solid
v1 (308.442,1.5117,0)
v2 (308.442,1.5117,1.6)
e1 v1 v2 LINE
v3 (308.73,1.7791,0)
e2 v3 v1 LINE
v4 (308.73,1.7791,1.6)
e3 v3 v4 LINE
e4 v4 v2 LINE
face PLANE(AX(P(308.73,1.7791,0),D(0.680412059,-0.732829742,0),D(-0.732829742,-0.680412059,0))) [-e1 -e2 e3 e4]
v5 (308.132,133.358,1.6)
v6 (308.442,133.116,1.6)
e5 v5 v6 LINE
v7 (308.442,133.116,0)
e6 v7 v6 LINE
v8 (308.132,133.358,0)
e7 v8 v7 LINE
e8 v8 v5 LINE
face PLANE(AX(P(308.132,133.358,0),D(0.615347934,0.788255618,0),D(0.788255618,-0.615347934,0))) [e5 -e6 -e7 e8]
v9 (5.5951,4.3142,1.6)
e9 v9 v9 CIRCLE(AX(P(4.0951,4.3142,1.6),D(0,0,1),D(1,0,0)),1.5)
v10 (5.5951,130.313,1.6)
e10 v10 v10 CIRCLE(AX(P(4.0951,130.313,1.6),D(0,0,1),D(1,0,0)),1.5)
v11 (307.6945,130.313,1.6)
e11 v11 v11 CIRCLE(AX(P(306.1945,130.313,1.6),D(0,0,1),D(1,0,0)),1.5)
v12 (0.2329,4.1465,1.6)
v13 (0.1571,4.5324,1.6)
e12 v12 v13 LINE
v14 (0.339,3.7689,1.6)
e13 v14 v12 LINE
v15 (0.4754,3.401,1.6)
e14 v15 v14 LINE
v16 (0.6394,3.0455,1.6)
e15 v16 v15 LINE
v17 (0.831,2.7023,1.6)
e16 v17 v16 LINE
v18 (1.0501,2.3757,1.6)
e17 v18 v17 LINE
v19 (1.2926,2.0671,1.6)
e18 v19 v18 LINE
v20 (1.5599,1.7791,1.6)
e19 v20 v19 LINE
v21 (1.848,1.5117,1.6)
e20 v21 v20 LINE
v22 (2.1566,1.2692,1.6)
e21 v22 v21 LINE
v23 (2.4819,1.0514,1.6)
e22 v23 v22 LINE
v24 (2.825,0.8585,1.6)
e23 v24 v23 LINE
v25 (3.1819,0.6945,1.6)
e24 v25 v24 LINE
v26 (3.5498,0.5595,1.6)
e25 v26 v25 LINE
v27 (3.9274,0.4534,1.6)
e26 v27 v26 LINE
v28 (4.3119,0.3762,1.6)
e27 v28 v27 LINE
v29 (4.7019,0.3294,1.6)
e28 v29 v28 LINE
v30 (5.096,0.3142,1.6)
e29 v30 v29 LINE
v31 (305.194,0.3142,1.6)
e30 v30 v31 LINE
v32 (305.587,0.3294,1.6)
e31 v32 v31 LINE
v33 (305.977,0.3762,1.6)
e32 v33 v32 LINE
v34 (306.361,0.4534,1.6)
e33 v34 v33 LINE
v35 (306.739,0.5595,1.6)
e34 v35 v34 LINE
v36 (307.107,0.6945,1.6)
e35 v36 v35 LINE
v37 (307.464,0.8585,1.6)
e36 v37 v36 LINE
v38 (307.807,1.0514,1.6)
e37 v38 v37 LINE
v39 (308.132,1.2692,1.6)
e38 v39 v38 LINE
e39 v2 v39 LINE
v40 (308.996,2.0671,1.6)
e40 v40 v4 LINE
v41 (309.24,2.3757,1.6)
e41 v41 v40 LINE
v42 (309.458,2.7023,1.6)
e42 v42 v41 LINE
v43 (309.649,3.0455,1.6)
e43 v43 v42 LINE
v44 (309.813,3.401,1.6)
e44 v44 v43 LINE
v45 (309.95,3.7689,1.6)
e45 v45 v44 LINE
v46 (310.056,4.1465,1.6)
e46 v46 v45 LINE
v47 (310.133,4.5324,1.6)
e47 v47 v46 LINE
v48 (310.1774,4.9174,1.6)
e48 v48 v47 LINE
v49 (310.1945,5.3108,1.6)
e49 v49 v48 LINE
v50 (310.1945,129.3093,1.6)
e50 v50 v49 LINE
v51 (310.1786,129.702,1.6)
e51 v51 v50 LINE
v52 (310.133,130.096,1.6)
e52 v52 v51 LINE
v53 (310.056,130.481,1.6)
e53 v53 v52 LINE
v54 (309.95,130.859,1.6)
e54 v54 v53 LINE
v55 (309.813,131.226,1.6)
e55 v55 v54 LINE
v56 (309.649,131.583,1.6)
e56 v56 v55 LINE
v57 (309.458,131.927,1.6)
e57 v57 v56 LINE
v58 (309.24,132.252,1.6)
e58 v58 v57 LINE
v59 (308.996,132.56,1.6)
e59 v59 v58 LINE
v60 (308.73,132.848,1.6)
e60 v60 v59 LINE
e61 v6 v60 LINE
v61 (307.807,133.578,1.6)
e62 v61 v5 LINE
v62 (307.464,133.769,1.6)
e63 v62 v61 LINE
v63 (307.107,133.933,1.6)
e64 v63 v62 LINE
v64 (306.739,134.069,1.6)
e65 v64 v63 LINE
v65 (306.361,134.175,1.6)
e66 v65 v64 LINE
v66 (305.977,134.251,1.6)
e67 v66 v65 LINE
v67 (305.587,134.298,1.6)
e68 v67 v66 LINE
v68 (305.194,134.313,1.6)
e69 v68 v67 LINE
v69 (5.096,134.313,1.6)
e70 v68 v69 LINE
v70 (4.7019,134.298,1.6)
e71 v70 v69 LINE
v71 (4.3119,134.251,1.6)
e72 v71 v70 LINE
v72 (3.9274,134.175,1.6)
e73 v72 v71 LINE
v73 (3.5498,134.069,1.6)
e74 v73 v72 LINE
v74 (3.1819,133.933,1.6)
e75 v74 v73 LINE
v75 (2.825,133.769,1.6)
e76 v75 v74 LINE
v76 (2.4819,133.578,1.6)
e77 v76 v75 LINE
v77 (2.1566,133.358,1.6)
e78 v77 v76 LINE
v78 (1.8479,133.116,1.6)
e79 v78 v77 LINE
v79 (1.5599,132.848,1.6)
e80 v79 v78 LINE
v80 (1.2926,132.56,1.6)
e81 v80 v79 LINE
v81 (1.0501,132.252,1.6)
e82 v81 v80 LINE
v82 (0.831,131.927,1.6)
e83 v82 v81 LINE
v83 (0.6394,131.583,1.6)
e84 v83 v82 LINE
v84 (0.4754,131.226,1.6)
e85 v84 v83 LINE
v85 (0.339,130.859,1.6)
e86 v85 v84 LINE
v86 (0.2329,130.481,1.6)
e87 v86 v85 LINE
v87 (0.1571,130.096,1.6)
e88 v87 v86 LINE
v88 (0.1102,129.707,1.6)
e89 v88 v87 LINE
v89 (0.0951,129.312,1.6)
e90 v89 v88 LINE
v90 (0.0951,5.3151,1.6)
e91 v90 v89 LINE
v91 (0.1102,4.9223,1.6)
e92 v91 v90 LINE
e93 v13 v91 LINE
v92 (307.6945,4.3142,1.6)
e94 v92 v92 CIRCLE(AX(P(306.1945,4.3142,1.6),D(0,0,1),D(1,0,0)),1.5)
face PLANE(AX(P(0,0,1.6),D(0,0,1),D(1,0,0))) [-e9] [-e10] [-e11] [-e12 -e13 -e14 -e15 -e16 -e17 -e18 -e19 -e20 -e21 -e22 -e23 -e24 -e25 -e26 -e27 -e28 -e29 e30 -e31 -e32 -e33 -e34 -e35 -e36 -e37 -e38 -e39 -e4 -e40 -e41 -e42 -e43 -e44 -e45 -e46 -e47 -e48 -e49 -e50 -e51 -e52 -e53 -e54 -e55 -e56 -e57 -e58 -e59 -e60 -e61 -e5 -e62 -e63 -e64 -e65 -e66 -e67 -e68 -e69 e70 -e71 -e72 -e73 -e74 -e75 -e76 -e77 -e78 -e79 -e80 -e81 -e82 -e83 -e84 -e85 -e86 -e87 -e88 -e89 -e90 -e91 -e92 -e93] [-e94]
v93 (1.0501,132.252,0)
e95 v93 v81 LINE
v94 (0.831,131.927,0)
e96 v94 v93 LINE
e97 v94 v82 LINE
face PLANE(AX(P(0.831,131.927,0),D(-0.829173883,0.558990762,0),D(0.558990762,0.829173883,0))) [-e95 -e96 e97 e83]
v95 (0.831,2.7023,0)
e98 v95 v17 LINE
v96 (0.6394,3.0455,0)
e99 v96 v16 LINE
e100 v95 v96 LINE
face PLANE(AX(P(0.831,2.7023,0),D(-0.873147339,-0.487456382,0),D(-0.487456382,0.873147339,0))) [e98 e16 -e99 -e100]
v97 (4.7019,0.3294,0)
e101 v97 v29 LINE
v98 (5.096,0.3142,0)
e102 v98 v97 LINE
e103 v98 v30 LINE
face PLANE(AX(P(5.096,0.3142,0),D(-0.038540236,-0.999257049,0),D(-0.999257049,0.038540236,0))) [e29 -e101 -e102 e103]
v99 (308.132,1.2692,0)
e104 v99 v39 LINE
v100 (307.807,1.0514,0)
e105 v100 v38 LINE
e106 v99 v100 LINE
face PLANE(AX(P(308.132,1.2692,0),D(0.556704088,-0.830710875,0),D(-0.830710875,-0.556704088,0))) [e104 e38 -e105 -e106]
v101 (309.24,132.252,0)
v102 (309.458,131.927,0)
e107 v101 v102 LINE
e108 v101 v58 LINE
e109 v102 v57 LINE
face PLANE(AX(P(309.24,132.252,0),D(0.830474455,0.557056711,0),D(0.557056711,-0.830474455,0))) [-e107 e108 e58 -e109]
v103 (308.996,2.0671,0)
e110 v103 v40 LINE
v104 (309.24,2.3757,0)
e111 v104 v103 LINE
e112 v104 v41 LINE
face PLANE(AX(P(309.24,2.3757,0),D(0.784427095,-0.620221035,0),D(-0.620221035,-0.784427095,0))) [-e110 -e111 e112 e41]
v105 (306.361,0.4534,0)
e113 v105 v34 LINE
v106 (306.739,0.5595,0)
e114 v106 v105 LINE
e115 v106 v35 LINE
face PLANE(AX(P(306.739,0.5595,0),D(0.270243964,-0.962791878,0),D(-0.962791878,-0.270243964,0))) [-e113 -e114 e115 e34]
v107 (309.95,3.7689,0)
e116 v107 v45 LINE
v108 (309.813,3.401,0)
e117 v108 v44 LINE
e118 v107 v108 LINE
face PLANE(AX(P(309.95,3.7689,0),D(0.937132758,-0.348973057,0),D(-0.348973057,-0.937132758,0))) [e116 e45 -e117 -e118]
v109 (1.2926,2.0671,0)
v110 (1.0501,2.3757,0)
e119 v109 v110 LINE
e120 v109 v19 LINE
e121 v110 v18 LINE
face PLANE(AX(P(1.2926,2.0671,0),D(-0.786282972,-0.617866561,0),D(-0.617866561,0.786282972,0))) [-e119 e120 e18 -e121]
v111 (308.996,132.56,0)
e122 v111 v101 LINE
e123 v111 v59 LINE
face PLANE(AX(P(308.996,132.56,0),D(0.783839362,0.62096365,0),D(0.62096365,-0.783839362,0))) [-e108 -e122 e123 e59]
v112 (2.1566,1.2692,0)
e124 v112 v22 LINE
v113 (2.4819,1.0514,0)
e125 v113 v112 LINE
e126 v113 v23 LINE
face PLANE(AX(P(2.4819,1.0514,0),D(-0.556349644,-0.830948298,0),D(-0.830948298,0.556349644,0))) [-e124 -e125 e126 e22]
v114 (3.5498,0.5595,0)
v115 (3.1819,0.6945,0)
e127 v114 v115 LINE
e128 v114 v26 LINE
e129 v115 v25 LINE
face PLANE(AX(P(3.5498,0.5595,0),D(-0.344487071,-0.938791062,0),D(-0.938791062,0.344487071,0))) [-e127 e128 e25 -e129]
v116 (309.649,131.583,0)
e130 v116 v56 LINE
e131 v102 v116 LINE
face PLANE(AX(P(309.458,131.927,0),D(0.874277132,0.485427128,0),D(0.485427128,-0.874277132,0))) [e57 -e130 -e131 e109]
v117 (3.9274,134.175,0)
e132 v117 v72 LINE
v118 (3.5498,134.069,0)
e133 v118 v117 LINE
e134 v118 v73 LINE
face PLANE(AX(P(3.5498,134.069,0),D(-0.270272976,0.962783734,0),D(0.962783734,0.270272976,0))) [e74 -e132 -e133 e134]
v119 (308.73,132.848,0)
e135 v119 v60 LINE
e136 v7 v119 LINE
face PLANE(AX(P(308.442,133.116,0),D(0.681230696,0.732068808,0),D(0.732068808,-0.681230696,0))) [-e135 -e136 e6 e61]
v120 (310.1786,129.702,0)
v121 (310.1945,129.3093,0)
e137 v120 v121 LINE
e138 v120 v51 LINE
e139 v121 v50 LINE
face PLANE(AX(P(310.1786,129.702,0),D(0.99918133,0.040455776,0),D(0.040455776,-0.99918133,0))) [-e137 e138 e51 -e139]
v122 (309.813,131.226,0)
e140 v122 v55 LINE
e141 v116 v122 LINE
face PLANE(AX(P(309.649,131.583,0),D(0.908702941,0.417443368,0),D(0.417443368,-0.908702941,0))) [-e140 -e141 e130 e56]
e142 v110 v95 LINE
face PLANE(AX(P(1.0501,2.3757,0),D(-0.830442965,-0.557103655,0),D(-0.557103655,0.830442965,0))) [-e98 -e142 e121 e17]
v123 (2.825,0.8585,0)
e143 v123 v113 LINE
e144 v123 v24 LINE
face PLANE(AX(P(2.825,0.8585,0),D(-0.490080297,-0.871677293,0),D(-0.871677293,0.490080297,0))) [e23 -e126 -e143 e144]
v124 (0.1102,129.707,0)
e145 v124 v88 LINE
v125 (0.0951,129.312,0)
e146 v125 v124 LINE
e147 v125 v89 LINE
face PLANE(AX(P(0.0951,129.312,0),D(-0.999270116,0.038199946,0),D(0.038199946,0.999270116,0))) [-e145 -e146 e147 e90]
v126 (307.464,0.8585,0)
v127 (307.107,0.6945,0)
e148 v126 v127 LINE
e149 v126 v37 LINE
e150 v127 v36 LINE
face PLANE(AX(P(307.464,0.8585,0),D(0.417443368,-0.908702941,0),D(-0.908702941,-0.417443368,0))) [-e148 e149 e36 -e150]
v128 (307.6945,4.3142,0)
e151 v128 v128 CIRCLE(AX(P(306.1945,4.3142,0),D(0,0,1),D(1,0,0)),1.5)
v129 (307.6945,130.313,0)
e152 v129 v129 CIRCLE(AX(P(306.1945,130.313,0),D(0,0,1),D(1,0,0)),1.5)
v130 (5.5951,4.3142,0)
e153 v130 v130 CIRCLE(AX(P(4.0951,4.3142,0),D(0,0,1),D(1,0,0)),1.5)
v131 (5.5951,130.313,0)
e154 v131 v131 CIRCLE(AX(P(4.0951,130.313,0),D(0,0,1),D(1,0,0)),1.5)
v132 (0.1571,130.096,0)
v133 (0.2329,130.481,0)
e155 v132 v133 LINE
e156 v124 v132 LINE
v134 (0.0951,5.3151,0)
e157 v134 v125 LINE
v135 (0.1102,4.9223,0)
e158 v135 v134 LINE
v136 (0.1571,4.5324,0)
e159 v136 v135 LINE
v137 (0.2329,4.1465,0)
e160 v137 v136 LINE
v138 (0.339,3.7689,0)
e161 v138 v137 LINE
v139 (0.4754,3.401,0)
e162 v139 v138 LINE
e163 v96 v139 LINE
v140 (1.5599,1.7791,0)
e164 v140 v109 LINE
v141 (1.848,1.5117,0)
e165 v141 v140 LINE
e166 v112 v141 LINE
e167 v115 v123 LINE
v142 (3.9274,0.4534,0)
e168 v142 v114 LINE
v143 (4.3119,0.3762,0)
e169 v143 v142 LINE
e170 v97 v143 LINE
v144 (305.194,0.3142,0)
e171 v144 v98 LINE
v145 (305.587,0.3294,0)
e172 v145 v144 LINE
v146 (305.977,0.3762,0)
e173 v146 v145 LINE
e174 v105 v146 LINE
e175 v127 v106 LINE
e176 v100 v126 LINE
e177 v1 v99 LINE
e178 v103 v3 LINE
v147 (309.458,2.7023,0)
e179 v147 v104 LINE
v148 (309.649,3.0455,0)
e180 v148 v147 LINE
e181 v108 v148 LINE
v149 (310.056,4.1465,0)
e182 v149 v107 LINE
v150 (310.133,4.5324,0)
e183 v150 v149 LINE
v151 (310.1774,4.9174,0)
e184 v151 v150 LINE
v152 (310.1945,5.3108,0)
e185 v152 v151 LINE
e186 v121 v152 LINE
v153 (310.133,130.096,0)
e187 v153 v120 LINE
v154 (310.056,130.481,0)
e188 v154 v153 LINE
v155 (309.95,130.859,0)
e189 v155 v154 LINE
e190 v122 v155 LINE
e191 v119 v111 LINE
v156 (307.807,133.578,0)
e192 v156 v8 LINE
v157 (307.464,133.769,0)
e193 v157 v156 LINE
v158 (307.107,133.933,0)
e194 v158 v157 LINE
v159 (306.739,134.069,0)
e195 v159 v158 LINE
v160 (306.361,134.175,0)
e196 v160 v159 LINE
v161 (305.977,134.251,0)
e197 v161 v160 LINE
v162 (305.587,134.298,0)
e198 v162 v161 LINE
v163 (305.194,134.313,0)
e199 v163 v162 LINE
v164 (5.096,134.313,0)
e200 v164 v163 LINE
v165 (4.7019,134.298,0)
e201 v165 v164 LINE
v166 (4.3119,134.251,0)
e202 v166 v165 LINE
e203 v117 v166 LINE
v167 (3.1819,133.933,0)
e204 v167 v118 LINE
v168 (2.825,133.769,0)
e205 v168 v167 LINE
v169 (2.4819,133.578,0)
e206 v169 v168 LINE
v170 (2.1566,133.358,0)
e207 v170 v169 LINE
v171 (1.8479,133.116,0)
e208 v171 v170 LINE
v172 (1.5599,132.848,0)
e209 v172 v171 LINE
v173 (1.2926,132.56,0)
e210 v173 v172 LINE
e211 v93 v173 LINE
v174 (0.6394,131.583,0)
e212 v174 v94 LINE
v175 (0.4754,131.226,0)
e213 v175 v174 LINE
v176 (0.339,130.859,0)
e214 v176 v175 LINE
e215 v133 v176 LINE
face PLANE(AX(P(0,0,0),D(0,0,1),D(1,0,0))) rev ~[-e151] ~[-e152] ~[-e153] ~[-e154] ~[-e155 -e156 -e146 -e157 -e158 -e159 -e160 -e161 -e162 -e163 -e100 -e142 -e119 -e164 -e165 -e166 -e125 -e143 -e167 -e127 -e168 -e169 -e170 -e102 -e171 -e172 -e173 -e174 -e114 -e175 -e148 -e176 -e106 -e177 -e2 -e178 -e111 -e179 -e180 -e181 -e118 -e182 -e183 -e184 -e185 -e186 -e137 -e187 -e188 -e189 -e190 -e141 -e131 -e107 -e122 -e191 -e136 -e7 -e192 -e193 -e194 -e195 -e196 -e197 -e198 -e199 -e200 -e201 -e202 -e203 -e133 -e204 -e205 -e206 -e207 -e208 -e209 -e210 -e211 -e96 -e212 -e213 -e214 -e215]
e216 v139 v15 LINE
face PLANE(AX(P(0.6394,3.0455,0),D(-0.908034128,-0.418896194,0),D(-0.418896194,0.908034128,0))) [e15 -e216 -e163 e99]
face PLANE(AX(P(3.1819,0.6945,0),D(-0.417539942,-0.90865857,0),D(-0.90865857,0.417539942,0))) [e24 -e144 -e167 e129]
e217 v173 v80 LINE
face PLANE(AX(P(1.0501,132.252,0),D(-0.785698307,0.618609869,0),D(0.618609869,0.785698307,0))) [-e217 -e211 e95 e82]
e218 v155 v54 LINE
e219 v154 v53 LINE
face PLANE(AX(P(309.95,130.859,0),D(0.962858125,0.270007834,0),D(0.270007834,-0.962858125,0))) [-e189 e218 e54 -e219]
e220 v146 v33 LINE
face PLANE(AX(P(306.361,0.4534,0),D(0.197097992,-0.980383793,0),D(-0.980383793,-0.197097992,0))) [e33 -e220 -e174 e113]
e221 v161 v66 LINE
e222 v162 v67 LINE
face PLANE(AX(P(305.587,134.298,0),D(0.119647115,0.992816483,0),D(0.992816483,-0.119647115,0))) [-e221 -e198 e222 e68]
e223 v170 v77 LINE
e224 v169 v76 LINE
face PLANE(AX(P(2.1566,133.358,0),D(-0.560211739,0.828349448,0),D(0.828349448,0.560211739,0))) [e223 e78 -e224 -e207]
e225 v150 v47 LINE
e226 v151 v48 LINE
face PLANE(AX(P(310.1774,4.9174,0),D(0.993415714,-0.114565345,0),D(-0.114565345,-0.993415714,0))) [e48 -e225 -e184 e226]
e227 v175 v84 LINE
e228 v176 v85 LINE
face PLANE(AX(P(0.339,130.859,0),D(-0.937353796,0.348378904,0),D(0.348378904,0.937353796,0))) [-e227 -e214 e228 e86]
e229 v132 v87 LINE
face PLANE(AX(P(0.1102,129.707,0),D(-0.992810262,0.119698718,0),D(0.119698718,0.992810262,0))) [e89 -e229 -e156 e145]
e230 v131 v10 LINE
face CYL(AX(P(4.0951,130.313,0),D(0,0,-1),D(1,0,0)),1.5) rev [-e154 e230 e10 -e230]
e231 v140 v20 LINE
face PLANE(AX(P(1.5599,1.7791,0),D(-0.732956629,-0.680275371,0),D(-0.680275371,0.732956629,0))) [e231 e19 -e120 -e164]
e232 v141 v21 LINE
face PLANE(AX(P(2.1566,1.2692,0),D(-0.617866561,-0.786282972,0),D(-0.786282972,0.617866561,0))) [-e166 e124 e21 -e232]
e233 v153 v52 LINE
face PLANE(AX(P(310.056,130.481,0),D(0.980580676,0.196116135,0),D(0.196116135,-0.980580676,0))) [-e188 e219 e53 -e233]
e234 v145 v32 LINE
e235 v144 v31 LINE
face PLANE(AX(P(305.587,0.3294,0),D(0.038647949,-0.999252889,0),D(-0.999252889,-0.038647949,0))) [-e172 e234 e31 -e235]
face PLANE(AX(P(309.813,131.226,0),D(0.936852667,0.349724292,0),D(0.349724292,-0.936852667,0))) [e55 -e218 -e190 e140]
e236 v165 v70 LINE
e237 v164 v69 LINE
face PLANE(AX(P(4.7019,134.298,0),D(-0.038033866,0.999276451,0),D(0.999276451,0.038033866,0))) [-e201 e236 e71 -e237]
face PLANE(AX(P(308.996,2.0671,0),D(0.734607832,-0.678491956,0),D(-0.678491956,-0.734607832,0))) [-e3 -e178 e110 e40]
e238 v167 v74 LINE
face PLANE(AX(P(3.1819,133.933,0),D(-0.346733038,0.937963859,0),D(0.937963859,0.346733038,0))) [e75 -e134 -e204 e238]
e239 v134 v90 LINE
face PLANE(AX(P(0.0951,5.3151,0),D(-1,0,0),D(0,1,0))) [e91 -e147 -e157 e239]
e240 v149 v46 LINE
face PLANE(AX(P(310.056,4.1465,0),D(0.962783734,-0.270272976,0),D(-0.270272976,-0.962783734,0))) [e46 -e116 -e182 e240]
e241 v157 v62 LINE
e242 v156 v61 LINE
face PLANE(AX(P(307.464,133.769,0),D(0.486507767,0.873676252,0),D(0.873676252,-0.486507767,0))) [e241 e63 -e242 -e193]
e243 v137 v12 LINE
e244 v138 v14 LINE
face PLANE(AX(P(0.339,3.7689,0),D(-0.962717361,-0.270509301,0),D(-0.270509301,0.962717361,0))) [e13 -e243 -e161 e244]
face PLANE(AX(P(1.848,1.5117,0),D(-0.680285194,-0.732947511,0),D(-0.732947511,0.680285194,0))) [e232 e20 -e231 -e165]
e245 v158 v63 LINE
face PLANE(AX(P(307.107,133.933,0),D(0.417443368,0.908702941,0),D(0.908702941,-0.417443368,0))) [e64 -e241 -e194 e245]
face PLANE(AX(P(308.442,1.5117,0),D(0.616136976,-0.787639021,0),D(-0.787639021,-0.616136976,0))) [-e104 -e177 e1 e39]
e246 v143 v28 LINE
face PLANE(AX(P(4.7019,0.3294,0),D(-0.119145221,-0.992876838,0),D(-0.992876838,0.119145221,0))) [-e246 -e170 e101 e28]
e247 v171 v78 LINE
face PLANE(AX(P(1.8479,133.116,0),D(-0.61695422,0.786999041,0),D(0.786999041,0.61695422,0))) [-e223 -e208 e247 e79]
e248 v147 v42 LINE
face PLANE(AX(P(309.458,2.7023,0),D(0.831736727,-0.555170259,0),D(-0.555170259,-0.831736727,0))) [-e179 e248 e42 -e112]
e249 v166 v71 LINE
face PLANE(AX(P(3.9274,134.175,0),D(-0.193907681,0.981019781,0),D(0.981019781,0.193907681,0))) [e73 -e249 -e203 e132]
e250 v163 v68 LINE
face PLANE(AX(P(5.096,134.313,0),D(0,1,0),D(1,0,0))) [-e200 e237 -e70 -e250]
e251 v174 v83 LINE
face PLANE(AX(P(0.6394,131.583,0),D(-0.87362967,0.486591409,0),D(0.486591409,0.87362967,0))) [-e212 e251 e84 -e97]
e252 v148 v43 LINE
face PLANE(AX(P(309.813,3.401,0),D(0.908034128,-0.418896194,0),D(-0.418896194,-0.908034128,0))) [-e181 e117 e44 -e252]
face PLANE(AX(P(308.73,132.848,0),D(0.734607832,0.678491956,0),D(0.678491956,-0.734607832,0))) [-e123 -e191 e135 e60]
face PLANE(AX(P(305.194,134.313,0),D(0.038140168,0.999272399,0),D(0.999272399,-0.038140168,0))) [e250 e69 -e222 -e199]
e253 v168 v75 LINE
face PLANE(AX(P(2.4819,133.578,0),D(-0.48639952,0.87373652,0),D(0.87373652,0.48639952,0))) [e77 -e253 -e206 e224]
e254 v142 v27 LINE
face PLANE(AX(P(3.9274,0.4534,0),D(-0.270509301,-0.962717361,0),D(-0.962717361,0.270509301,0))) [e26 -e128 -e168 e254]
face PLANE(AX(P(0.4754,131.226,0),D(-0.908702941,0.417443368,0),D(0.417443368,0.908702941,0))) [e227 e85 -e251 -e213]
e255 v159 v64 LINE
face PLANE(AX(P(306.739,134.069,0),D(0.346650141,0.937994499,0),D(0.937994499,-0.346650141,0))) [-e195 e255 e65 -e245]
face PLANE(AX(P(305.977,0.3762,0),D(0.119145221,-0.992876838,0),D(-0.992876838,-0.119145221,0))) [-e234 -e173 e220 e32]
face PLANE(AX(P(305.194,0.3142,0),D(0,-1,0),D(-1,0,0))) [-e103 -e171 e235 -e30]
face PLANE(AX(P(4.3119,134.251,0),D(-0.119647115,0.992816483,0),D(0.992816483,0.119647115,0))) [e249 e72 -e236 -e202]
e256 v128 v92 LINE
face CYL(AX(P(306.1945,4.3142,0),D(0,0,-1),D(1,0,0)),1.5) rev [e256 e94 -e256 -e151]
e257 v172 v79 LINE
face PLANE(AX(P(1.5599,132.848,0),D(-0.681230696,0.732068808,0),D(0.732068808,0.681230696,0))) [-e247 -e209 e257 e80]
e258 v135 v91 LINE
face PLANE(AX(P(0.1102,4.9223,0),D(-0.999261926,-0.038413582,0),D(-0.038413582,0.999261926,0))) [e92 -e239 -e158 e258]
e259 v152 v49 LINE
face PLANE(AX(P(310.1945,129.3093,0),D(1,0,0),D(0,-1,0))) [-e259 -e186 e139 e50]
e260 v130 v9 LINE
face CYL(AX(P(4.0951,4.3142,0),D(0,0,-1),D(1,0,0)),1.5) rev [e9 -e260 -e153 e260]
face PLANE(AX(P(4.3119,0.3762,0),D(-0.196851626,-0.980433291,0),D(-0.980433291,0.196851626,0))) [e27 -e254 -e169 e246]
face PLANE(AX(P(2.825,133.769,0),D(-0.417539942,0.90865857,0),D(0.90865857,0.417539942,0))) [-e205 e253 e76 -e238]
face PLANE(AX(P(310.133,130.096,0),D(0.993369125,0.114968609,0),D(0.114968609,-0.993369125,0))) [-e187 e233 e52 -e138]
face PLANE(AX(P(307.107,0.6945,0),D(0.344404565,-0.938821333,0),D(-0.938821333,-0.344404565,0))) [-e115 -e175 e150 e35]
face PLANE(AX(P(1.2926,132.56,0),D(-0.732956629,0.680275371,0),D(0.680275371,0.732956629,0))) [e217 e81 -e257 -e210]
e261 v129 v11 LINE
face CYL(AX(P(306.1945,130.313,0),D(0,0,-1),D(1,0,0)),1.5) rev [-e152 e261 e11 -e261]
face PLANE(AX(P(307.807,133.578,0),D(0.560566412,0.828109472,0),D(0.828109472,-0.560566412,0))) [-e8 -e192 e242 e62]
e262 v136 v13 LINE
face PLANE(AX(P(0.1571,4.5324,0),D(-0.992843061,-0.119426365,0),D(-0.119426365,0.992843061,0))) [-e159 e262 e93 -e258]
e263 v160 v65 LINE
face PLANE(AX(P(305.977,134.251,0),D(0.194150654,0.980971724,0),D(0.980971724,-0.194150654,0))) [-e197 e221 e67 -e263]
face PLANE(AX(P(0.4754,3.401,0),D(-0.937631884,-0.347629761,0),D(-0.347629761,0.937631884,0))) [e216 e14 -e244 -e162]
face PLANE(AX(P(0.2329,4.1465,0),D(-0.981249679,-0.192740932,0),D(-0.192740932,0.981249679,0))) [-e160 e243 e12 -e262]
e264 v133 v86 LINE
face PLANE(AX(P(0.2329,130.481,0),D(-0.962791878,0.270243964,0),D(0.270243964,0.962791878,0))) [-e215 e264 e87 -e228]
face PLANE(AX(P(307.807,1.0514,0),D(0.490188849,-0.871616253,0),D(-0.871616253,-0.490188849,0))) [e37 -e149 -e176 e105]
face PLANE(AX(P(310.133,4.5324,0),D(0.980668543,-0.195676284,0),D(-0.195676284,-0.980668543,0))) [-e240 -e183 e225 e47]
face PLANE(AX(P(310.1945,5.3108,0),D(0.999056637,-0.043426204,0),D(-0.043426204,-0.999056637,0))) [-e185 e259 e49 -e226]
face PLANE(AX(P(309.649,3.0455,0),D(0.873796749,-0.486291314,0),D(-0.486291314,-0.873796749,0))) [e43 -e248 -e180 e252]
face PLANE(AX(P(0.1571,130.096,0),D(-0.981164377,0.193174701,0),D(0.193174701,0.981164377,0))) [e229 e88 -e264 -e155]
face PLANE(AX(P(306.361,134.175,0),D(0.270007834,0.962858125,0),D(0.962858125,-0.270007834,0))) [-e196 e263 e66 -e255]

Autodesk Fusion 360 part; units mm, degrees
sketch "Sketch1" plane through (0, 0, 0) normal (0, 0, 1) x (1, 0, 0)
  circle A0 centre (4.0951, 130.313) radius 1.5
  line L0 (3.5498, 134.069) -> (3.9274, 134.175)
  line L1 (2.4819, 133.578) -> (2.825, 133.769)
  line L2 (2.1566, 133.358) -> (2.4819, 133.578)
  line L3 (0.2329, 130.481) -> (0.339, 130.859)
  line L4 (3.1819, 133.933) -> (3.5498, 134.069)
  line L5 (1.0501, 132.252) -> (1.2926, 132.56)
  line L6 (4.7019, 134.298) -> (5.096, 134.313)
  line L7 (2.825, 133.769) -> (3.1819, 133.933)
  line L8 (0.1571, 130.096) -> (0.2329, 130.481)
  line L9 (4.3119, 134.251) -> (4.7019, 134.298)
  line L10 (1.5599, 132.848) -> (1.8479, 133.116)
  line L11 (1.2926, 132.56) -> (1.5599, 132.848)
  line L12 (0.339, 130.859) -> (0.4754, 131.226)
  line L13 (1.848, 133.116) -> (2.1566, 133.358)
  line L14 (0.831, 131.927) -> (1.0501, 132.252)
  line L15 (0.4754, 131.226) -> (0.6394, 131.583)
  line L16 (0.1102, 129.707) -> (0.1571, 130.096)
  line L17 (3.9274, 134.175) -> (4.3119, 134.251)
  line L18 (310.1945, 129.3093) -> (310.1945, 5.3108)
  line L19 (0.6394, 131.583) -> (0.831, 131.927)
  line L20 (0.0951, 129.312) -> (0.1102, 129.707)
  line L21 (306.361, 0.4534) -> (305.977, 0.3762)
  line L22 (305.587, 0.3294) -> (305.194, 0.3142)
  circle A1 centre (306.1945, 4.3142) radius 1.5
  line L23 (310.056, 4.1465) -> (309.95, 3.7689)
  line L24 (310.1945, 5.3108) -> (310.1774, 4.9174)
  line L25 (310.1774, 4.9174) -> (310.133, 4.5324)
  line L26 (1.0501, 2.3757) -> (0.831, 2.7023)
  line L27 (3.1819, 0.6945) -> (2.825, 0.8585)
  line L28 (0.2329, 4.1465) -> (0.1571, 4.5324)
  line L29 (0.831, 2.7023) -> (0.6394, 3.0455)
  line L30 (0.339, 3.7689) -> (0.2329, 4.1465)
  line L31 (1.848, 1.5117) -> (1.5599, 1.7791)
  line L32 (3.9274, 0.4534) -> (3.5498, 0.5595)
  line L33 (0.1571, 4.5324) -> (0.1102, 4.9223)
  line L34 (0.4754, 3.401) -> (0.339, 3.7689)
  circle A2 centre (4.0951, 4.3142) radius 1.5
  line L35 (305.194, 0.3142) -> (5.096, 0.3142)
  line L36 (310.133, 4.5324) -> (310.056, 4.1465)
  line L37 (309.24, 2.3757) -> (308.996, 2.0671)
  line L38 (2.4819, 1.0514) -> (2.1566, 1.2692)
  line L39 (2.1566, 1.2692) -> (1.8479, 1.5117)
  line L40 (308.73, 1.7791) -> (308.442, 1.5117)
  line L41 (307.807, 1.0514) -> (307.464, 0.8585)
  line L42 (307.464, 0.8585) -> (307.107, 0.6945)
  line L43 (2.825, 0.8585) -> (2.4819, 1.0514)
  line L44 (309.649, 3.0455) -> (309.458, 2.7023)
  line L45 (306.739, 0.5595) -> (306.361, 0.4534)
  line L46 (3.5498, 0.5595) -> (3.1819, 0.6945)
  line L47 (0.6394, 3.0455) -> (0.4754, 3.401)
  line L48 (4.7019, 0.3294) -> (4.3119, 0.3762)
  line L49 (308.132, 1.2692) -> (307.807, 1.0514)
  line L50 (307.107, 0.6945) -> (306.739, 0.5595)
  line L51 (4.3119, 0.3762) -> (3.9274, 0.4534)
  line L52 (1.2926, 2.0671) -> (1.0501, 2.3757)
  line L53 (308.996, 2.0671) -> (308.73, 1.7791)
  line L54 (308.442, 1.5117) -> (308.132, 1.2692)
  line L55 (309.458, 2.7023) -> (309.24, 2.3757)
  line L56 (308.132, 133.358) -> (308.442, 133.116)
  line L57 (305.977, 134.251) -> (306.361, 134.175)
  line L58 (5.096, 134.313) -> (305.194, 134.313)
  line L59 (77.0546, 0.3142) -> (190.5635, 0.3142)
  line L60 (0.0951, 5.3151) -> (0.0951, 129.312)
  line L61 (307.464, 133.769) -> (307.807, 133.578)
  line L62 (305.587, 134.298) -> (305.977, 134.251)
  line L63 (305.194, 134.313) -> (305.587, 134.298)
  line L64 (310.1786, 129.702) -> (310.1945, 129.3093)
  line L65 (307.107, 133.933) -> (307.464, 133.769)
  line L66 (306.739, 134.069) -> (307.107, 133.933)
  line L67 (308.996, 132.56) -> (309.24, 132.252)
  line L68 (310.056, 130.481) -> (310.133, 130.096)
  line L69 (309.24, 132.252) -> (309.458, 131.927)
  circle A3 centre (306.1945, 130.313) radius 1.5
  line L70 (310.133, 130.096) -> (310.1786, 129.702)
  line L71 (309.813, 131.226) -> (309.95, 130.859)
  line L72 (308.442, 133.116) -> (308.73, 132.848)
  line L73 (307.807, 133.578) -> (308.132, 133.358)
  line L74 (306.361, 134.175) -> (306.739, 134.069)
  line L75 (309.95, 130.859) -> (310.056, 130.481)
  line L76 (309.649, 131.583) -> (309.813, 131.226)
  line L77 (309.458, 131.927) -> (309.649, 131.583)
  line L78 (308.73, 132.848) -> (308.996, 132.56)
  line L79 (309.813, 3.401) -> (309.649, 3.0455)
  line L80 (0.1102, 4.9223) -> (0.0951, 5.3151)
  line L81 (5.096, 0.3142) -> (4.7019, 0.3294)
  line L82 (1.5599, 1.7791) -> (1.2926, 2.0671)
  line L83 (309.95, 3.7689) -> (309.813, 3.401)
  line L84 (305.977, 0.3762) -> (305.587, 0.3294)
  line L85 (189.7195, 134.313) -> (175.4705, 134.313)
  line L86 (175.4705, 134.313) -> (175.4705, 119.313)
  line L87 (175.4705, 119.313) -> (189.7195, 119.313)
  line L88 (189.7195, 119.313) -> (189.7195, 134.313)
  line L89 (162.5451, 119.783) -> (142.1051, 119.783)
  line L90 (142.1051, 119.783) -> (142.1051, 124.983)
  line L91 (142.1051, 124.983) -> (162.5451, 124.983)
  line L92 (162.5451, 124.983) -> (162.5451, 119.783)
  line L93 (172.0551, 119.923) -> (164.3351, 119.923)
  line L94 (164.3351, 119.923) -> (164.3351, 127.923)
  line L95 (164.3351, 127.923) -> (172.0551, 127.923)
  line L96 (172.0551, 127.923) -> (172.0551, 119.923)
  dimension "d381" = 3
  dimension "d382" = 3
  dimension "d383" = 3
  dimension "d384" = 3
  dimension "d385" = 4
  dimension "d386" = 4
  dimension "d387" = 4
  dimension "d388" = 4
  dimension "d389" = 4
  dimension "d390" = 4
  dimension "d391" = 4
  dimension "d392" = 4
  dimension "d414" = 123.9985
  dimension "d415" = 300.098
  dimension "d582" = 14.249
  dimension "d583" = 15
  dimension "d584" = 120.475
  dimension "d585" = 20.44
  dimension "d586" = 5.2
  dimension "d587" = 142.01
  dimension "d588" = 9.33
  dimension "d589" = 8
  dimension "d590" = 7.72
  dimension "d591" = 1.79
  dimension "d592" = 6.39
extrude "Extrude1" add sketch "Sketch1" along normal blind 1.6 contours L0 L1 L2 L3 L4 L5 L6 L7 L8 L9 L10 L11 L12 L13 L14 L15 L16 L17 L18 L19 L20 L21 L22 L23 L24 L25 L26 L27 L28 L29 L30 L31 L32 L33 L34 L35 L36 L37 L38 L39 L40 L41 L42 L43 L44 L45 L46 L47 L48 L49 L50 L51 L52 L53 L54 L55 L56 L57 L58 L59 L60 L61 L62 L63 L64 L65 L66 L67 L68 L69 L70 L71 L72 L73 L74 L75 L76 L77 L78 L79 L80 L81 L82 L83 L84 L86 L87 L88 | L58 L85 L86 L87 L88 | L89 L90 L91 L92 | L93 L94 L95 L96
